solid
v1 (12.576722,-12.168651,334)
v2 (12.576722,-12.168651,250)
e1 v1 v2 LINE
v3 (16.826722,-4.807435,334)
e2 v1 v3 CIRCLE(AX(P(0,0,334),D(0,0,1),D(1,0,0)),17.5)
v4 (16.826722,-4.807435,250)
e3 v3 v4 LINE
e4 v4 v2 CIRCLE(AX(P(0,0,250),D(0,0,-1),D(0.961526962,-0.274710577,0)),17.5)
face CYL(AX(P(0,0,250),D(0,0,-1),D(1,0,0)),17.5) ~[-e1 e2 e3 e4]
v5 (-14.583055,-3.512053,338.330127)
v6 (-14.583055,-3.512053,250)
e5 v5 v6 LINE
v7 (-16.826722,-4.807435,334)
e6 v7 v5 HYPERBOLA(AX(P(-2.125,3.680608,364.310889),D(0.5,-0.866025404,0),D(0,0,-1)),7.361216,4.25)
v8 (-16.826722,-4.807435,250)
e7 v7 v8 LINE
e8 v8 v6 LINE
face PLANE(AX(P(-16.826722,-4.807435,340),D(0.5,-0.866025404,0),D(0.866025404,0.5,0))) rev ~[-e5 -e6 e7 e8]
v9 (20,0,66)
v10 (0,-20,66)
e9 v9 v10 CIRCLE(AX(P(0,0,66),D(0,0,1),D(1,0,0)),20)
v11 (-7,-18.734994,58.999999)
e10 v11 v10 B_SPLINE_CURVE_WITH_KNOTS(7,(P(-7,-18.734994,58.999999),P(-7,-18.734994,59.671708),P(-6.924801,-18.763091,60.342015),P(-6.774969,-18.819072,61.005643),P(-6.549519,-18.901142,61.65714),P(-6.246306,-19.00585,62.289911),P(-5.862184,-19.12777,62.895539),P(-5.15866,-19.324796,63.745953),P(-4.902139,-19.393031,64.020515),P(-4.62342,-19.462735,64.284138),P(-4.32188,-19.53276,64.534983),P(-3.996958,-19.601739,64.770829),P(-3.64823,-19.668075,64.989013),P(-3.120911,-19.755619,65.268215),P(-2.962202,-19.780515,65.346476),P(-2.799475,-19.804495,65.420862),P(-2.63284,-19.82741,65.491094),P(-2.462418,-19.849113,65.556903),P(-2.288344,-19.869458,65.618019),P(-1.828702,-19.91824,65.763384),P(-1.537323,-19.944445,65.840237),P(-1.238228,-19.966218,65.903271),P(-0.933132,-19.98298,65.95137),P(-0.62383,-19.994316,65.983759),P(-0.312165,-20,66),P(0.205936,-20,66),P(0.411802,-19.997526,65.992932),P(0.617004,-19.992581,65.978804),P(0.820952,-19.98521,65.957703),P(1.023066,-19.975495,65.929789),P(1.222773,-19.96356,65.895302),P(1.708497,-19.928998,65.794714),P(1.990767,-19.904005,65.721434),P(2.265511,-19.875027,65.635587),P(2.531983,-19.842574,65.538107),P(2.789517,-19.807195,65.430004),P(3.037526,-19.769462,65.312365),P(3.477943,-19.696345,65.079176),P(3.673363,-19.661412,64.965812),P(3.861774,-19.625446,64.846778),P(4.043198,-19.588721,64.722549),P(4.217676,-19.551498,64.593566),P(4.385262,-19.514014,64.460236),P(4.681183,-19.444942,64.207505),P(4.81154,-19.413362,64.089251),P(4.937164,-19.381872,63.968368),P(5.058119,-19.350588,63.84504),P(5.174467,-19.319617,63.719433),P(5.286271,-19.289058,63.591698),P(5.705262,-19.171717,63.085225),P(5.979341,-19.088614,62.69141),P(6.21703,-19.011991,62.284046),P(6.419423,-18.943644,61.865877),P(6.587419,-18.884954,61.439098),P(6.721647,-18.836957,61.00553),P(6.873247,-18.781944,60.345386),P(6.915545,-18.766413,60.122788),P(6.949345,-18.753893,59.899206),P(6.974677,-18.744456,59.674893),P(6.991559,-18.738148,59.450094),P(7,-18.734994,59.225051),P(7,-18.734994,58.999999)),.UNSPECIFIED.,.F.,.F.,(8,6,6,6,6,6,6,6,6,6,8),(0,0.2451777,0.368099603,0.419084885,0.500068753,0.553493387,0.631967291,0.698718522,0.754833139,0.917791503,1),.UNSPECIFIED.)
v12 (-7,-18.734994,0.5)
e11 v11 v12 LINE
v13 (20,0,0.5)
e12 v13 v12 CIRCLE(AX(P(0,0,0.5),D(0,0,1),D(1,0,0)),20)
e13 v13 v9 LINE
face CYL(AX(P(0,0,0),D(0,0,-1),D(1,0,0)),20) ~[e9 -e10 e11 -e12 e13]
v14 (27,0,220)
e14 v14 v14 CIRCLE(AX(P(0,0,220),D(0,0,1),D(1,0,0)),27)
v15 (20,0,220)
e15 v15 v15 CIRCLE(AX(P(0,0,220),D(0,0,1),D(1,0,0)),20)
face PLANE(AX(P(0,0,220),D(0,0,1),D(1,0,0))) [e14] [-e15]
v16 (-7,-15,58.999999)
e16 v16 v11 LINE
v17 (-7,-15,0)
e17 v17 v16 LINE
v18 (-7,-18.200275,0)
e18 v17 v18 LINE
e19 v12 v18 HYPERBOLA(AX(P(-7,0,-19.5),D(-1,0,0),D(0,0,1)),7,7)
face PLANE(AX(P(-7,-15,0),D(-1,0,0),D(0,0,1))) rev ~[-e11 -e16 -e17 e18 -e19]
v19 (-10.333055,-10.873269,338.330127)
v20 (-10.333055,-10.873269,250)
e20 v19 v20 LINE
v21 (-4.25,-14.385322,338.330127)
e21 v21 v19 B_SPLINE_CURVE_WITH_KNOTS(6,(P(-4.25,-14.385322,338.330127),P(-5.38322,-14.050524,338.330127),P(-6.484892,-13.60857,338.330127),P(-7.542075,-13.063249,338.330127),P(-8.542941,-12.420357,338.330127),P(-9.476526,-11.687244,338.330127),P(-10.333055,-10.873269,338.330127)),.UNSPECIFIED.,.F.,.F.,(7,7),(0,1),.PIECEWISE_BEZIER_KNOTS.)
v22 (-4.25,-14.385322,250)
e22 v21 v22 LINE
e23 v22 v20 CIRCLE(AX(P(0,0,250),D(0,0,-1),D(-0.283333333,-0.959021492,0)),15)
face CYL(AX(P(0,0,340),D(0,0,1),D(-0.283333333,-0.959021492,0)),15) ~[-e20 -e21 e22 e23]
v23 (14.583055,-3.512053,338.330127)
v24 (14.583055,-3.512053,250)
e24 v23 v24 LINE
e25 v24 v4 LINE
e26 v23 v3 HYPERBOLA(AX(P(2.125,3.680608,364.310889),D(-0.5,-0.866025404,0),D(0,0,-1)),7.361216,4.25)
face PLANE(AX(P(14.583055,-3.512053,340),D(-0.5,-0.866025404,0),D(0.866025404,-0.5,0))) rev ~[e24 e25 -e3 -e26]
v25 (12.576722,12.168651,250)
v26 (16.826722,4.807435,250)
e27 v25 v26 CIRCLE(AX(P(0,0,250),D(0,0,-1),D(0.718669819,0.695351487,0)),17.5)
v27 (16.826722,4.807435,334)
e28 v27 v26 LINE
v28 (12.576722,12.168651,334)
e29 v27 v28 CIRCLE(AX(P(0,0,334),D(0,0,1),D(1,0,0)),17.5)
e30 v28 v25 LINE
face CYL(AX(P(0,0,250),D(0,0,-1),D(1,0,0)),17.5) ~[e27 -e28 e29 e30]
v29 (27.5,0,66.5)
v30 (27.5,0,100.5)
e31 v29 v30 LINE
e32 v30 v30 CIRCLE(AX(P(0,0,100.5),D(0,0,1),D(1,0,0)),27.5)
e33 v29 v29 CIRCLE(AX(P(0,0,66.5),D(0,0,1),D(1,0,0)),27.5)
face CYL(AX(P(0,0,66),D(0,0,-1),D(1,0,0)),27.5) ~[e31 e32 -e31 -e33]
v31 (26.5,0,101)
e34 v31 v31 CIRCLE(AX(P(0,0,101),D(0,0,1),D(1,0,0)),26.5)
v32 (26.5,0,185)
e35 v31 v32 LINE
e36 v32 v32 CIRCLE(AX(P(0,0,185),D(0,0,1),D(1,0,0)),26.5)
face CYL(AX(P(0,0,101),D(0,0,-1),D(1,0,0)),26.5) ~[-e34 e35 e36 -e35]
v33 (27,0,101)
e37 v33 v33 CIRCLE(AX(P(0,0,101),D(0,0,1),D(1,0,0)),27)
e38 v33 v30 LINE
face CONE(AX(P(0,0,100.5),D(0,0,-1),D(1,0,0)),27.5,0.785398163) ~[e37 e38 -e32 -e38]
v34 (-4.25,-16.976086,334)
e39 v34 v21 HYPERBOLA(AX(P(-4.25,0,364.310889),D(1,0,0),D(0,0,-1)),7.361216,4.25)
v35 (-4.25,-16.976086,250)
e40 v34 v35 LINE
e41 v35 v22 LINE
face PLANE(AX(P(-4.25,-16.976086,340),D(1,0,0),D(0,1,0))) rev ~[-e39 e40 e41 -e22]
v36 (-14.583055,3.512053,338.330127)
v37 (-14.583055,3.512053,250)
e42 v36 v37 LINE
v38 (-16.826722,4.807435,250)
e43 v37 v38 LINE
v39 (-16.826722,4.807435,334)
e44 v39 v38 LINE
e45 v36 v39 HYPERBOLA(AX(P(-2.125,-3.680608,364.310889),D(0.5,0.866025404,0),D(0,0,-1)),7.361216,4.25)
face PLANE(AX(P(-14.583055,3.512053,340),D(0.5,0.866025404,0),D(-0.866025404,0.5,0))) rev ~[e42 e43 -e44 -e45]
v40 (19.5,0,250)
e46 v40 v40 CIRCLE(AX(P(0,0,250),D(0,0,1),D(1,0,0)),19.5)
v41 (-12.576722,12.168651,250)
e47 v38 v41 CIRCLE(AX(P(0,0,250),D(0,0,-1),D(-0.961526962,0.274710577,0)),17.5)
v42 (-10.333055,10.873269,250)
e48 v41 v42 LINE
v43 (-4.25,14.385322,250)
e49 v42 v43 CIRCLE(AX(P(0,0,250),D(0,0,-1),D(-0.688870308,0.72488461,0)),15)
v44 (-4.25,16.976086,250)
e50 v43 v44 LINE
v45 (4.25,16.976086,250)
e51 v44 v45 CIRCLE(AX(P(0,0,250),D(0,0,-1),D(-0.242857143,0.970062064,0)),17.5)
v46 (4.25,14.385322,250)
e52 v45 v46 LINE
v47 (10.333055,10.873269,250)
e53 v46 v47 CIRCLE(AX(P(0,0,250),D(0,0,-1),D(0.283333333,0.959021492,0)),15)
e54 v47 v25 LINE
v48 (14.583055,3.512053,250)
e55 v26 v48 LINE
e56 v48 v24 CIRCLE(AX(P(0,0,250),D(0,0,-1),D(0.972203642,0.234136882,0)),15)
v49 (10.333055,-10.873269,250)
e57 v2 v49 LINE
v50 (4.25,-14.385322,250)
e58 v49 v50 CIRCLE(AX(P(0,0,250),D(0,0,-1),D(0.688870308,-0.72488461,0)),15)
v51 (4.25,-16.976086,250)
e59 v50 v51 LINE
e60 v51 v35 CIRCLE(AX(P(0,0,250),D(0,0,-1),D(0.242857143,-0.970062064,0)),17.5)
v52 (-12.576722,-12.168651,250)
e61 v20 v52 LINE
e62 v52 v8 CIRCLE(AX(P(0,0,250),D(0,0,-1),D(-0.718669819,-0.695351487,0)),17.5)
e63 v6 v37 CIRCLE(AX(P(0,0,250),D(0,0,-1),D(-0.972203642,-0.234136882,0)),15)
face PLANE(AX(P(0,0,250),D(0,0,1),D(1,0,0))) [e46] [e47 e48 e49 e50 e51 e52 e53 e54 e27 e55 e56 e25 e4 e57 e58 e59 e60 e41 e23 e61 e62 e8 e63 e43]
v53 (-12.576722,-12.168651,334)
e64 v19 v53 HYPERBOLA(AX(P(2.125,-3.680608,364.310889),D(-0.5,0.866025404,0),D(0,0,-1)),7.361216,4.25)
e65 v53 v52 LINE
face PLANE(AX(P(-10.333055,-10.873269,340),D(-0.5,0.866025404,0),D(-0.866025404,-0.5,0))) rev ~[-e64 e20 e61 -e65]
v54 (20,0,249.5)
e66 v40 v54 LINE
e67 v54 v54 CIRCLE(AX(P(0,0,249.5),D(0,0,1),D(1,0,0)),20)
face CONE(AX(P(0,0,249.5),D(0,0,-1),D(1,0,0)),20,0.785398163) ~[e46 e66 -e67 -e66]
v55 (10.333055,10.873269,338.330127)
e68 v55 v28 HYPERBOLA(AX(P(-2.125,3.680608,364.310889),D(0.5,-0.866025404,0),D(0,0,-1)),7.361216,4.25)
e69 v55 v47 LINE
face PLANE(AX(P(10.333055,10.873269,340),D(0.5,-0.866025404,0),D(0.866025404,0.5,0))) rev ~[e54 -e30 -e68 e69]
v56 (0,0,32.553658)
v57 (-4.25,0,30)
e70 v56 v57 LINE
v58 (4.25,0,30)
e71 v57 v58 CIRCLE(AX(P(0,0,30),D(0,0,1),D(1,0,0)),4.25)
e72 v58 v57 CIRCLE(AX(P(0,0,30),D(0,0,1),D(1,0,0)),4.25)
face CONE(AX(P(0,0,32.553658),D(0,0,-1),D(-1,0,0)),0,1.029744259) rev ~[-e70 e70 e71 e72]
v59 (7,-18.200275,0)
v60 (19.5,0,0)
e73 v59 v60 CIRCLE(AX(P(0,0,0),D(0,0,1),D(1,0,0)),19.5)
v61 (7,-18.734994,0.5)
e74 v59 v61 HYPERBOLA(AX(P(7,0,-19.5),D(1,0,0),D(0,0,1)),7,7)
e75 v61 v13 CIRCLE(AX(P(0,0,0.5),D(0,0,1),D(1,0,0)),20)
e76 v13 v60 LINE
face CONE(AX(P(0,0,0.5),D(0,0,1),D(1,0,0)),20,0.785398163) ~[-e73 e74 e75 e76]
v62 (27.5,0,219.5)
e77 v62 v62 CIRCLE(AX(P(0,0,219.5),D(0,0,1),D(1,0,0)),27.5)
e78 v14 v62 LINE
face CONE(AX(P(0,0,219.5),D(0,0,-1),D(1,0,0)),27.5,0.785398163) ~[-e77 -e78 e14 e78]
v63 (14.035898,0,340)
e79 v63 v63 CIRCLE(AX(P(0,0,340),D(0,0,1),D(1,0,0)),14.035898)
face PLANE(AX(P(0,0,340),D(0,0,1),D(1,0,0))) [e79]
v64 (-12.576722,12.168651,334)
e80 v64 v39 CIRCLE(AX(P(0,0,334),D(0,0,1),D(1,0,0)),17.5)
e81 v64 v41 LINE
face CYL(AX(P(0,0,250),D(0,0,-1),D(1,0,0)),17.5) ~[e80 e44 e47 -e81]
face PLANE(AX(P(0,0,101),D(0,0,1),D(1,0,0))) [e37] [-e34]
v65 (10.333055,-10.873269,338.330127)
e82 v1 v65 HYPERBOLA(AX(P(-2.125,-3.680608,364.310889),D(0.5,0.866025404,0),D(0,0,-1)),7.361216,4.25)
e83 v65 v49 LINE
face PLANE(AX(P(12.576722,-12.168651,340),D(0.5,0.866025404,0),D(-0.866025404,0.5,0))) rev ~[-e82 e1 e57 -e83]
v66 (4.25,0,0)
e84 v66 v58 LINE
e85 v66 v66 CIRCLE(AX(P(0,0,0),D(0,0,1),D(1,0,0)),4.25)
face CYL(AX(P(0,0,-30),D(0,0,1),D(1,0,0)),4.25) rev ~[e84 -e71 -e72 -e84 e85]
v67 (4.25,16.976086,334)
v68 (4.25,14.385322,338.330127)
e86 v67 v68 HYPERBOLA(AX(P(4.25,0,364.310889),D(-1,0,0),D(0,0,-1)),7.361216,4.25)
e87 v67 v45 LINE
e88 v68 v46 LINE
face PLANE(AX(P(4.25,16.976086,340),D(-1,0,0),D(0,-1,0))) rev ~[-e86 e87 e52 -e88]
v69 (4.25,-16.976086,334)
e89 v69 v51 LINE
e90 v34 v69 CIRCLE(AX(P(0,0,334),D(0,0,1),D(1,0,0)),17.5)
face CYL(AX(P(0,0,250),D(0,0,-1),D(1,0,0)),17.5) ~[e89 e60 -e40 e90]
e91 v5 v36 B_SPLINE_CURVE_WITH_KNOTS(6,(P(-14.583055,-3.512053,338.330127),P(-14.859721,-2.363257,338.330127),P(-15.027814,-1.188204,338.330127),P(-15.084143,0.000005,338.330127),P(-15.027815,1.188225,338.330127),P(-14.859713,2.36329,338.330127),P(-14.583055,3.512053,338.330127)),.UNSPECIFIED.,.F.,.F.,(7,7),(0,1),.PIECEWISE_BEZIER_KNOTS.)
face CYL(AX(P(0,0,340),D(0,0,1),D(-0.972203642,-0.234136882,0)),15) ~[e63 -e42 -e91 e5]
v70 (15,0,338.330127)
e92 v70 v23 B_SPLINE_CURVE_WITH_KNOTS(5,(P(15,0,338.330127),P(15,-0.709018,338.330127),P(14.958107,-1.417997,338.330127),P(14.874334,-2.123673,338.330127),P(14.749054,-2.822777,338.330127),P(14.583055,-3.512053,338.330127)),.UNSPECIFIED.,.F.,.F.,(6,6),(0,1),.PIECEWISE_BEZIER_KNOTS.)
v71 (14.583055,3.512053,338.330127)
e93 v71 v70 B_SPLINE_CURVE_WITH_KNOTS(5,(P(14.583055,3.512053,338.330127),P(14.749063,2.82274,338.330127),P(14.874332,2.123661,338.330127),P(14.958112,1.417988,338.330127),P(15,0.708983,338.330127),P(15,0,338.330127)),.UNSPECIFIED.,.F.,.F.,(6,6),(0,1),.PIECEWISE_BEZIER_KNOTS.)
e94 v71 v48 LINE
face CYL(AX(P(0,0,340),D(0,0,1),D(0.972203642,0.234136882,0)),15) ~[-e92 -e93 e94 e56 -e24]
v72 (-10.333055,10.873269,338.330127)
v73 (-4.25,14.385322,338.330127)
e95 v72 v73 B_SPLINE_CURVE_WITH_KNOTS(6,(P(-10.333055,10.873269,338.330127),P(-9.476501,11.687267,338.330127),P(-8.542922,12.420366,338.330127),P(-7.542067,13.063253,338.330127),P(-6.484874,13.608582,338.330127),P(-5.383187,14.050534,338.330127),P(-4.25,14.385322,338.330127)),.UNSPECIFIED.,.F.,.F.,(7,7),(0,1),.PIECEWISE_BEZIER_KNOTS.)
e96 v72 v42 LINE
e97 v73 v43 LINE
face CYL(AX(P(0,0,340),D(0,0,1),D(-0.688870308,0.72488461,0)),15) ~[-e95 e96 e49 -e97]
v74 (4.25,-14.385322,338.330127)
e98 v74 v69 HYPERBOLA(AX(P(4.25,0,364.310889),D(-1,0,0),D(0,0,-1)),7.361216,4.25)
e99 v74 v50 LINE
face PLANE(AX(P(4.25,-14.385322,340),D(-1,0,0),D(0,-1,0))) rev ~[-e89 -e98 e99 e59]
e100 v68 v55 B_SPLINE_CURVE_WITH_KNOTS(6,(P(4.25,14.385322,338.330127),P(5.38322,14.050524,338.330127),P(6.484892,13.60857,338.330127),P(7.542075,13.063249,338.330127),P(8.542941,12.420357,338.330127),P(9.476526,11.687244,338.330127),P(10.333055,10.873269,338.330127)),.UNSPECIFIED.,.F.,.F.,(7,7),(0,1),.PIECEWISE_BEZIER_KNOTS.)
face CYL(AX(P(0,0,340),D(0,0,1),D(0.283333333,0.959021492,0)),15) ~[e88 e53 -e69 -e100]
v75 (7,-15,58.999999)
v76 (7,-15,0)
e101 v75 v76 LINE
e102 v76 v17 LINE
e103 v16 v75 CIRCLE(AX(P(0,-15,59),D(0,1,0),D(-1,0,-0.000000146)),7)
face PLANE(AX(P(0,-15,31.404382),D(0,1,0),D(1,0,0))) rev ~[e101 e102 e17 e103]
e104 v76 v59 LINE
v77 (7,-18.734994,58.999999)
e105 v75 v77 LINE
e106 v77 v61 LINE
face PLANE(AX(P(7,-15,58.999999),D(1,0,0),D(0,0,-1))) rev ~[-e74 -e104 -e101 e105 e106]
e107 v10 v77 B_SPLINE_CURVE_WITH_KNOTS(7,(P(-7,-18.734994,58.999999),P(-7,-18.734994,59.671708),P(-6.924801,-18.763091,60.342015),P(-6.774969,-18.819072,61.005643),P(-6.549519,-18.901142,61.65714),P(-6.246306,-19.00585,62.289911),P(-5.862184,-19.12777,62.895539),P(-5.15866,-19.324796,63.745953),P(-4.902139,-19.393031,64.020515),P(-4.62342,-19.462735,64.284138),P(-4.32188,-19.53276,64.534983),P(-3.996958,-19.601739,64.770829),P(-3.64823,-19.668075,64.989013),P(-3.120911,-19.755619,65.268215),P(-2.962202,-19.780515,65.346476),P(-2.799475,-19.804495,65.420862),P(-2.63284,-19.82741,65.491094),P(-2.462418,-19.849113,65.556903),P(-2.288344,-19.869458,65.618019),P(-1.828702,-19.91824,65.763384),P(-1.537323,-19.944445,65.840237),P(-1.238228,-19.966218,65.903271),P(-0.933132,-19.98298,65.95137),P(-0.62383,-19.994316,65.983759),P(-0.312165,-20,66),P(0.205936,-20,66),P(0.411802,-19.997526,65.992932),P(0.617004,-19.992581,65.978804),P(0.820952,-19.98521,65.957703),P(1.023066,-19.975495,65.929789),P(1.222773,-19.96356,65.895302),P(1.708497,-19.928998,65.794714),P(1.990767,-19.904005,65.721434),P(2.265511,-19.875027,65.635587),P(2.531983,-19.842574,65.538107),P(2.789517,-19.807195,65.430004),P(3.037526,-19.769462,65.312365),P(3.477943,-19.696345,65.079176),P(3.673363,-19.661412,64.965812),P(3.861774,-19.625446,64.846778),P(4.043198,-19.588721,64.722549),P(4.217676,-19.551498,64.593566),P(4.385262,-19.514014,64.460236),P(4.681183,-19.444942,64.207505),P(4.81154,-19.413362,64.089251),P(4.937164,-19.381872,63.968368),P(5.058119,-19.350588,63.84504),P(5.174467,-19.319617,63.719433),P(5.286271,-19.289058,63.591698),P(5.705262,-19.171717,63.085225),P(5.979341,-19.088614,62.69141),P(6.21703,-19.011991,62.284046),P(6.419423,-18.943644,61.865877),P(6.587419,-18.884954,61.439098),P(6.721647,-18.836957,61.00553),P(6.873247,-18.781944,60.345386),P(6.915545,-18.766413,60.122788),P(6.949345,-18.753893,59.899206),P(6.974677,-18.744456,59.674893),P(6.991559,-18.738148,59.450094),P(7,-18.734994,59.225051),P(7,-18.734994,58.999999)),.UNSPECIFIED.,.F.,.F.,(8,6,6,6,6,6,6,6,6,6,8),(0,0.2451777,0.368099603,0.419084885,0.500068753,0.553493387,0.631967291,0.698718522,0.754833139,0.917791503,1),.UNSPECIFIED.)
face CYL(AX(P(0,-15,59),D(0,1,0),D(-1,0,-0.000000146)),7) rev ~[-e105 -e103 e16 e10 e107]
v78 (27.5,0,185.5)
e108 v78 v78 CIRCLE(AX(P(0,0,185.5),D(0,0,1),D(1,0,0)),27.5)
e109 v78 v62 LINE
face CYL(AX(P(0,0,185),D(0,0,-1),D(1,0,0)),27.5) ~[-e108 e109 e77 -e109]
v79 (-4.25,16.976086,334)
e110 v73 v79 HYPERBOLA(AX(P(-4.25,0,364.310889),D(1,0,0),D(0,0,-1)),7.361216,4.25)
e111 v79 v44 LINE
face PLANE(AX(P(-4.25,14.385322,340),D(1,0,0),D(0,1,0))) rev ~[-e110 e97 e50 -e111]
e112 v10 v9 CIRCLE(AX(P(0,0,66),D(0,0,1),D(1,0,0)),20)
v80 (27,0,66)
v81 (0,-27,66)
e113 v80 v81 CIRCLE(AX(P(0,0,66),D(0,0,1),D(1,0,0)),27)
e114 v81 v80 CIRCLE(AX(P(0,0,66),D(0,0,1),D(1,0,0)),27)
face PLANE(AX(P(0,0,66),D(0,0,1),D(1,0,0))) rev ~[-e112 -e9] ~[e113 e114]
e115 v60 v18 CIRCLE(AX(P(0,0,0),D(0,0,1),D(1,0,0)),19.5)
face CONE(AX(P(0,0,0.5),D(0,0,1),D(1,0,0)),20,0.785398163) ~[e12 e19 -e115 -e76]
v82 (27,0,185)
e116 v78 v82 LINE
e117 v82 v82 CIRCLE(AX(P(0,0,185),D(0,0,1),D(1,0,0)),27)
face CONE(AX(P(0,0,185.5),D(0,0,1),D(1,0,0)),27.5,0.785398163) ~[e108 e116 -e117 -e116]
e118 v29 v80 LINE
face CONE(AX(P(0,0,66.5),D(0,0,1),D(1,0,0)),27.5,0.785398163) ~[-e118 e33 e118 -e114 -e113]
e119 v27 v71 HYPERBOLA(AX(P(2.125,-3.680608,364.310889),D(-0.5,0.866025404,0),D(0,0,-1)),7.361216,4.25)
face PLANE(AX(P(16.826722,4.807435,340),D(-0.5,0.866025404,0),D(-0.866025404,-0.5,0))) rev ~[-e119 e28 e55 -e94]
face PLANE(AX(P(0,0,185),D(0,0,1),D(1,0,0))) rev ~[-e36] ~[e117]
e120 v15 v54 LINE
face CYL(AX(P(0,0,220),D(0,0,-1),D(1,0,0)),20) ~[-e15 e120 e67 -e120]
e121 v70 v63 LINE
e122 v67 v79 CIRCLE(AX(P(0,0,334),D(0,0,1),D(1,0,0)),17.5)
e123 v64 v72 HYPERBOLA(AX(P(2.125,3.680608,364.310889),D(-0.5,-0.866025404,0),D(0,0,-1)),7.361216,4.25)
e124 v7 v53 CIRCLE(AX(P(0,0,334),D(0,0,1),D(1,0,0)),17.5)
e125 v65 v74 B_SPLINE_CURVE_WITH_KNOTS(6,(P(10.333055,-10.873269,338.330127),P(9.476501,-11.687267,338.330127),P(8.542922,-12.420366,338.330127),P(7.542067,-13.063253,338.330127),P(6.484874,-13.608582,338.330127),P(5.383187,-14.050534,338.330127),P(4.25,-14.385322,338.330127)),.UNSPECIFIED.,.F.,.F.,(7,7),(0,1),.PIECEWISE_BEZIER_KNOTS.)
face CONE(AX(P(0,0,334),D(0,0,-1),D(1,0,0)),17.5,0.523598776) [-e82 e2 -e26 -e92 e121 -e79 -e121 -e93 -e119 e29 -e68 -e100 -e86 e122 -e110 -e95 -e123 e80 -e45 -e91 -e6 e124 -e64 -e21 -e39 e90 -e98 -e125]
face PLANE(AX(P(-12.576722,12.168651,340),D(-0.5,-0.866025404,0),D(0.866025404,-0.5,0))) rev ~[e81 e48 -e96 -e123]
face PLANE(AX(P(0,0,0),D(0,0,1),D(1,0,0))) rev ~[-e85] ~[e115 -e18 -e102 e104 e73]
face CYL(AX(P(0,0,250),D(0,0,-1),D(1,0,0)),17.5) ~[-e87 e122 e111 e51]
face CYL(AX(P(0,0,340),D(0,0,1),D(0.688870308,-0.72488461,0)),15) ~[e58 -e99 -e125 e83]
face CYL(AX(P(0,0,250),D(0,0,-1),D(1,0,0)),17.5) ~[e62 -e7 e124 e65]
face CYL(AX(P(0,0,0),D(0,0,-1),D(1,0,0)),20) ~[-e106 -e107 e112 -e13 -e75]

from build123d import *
from build123d.topology import SkipClean

# Parameters (mm, degrees)
SKICA1_R                  = 20
P_IDAT_VYSUNUT_M1_DEPTH   = 66
SKICA2_R                  = 27.5
P_IDAT_VYSUNUT_M2_DEPTH   = 35
SKICA3_R                  = 26.5
P_IDAT_VYSUNUT_M3_DEPTH   = 84
SKICA4_R                  = 27.5
P_IDAT_VYSUNUT_M4_DEPTH   = 35
SKICA5_R                  = 20
P_IDAT_VYSUNUT_M5_DEPTH   = 30
SKICA6_R                  = 17.5
P_IDAT_VYSUNUT_M6_DEPTH   = 90
ZKOSEN_3_SIZE             = 6
ZKOSEN_3_SIZE2            = 3.464101615
SKICA9_OUTSIDE_W          = 126.756
SKICA9_OUTSIDE_H          = 126.756
ODEBRAT_VYSUNUT_M16_DEPTH = 90
ZKOSEN_4_SIZE             = 0.5
M10_Z_VIT1_D              = 8.5
M10_Z_VIT1_DEPTH          = 30
M10_Z_VIT1_TIP            = 2.553657631
ODEBRAT_START             = -15
ODEBRAT_VYSUNUT_M17_DEPTH = 13.5


with BuildPart() as part:
    # Skica1 → P_idat vysunut_m1 (new body)
    with BuildSketch(Plane.XY):
        Circle(SKICA1_R)
    extrude(amount=P_IDAT_VYSUNUT_M1_DEPTH)

    # Skica2 → P_idat vysunut_m2 (add)
    with BuildSketch(Plane.XY.offset(66)):
        Circle(SKICA2_R)
    extrude(amount=P_IDAT_VYSUNUT_M2_DEPTH)

    # Skica3 → P_idat vysunut_m3 (add)
    with BuildSketch(Plane.XY.offset(101)):
        Circle(SKICA3_R)
    extrude(amount=P_IDAT_VYSUNUT_M3_DEPTH)

    # Skica4 → P_idat vysunut_m4 (add)
    with BuildSketch(Plane.XY.offset(185)):
        Circle(SKICA4_R)
    extrude(amount=P_IDAT_VYSUNUT_M4_DEPTH)

    # Skica5 → P_idat vysunut_m5 (add)
    with BuildSketch(Plane.XY.offset(220)):
        Circle(SKICA5_R)
    extrude(amount=P_IDAT_VYSUNUT_M5_DEPTH)

    # Skica6 → P_idat vysunut_m6 (add)
    with BuildSketch(Plane.XY.offset(250)):
        Circle(SKICA6_R)
    extrude(amount=P_IDAT_VYSUNUT_M6_DEPTH)

    # Zkosen_3
    zkosen_3_edges = [part.edges().sort_by_distance(p)[0] for p in [
        (-17.5, 0, 340),
    ]]
    zkosen_3_side = [part.faces().sort_by_distance(p)[0] for p in [
        (-17.5, 0, 295),
    ]]
    chamfer(zkosen_3_edges, length=ZKOSEN_3_SIZE, length2=ZKOSEN_3_SIZE2, reference=zkosen_3_side[0])

    # Skica9 outside → Odebrat vysunut_m16 (cut)
    with BuildSketch(Plane.XY.offset(340)):
        Rectangle(SKICA9_OUTSIDE_W, SKICA9_OUTSIDE_H)
        with BuildLine():
            Line((-4.25, 14.385322381), (-4.25, 16.976086121))
            ThreePointArc((-4.25, 16.976086121), (0, 17.5), (4.25, 16.976086121))
            Line((4.25, 16.976086121), (4.25, 14.385322381))
            ThreePointArc((4.25, 14.385322381), (7.5, 12.990381057), (10.333054623, 10.873269156))
            Line((10.333054623, 10.873269156), (12.576721838, 12.168651027))
            ThreePointArc((12.576721838, 12.168651027), (15.155444566, 8.75), (16.826721838, 4.807435095))
            Line((16.826721838, 4.807435095), (14.583054623, 3.512053224))
            ThreePointArc((14.583054623, 3.512053224), (15, 0), (14.583054623, -3.512053224))
            Line((14.583054623, -3.512053224), (16.826721838, -4.807435095))
            ThreePointArc((16.826721838, -4.807435095), (15.155444566, -8.75), (12.576721838, -12.168651027))
            Line((12.576721838, -12.168651027), (10.333054623, -10.873269156))
            ThreePointArc((10.333054623, -10.873269156), (7.5, -12.990381057), (4.25, -14.385322381))
            Line((4.25, -14.385322381), (4.25, -16.976086121))
            ThreePointArc((4.25, -16.976086121), (0, -17.5), (-4.25, -16.976086121))
            Line((-4.25, -16.976086121), (-4.25, -14.385322381))
            ThreePointArc((-4.25, -14.385322381), (-7.5, -12.990381057), (-10.333054623, -10.873269156))
            Line((-10.333054623, -10.873269156), (-12.576721838, -12.168651027))
            ThreePointArc((-12.576721838, -12.168651027), (-15.155444566, -8.75), (-16.826721838, -4.807435095))
            Line((-16.826721838, -4.807435095), (-14.583054623, -3.512053224))
            ThreePointArc((-14.583054623, -3.512053224), (-15, 0), (-14.583054623, 3.512053224))
            Line((-14.583054623, 3.512053224), (-16.826721838, 4.807435095))
            ThreePointArc((-16.826721838, 4.807435095), (-15.155444566, 8.75), (-12.576721838, 12.168651027))
            Line((-12.576721838, 12.168651027), (-10.333054623, 10.873269156))
            ThreePointArc((-10.333054623, 10.873269156), (-7.5, 12.990381057), (-4.25, 14.385322381))
        make_face(mode=Mode.SUBTRACT)
    extrude(amount=-ODEBRAT_VYSUNUT_M16_DEPTH, mode=Mode.SUBTRACT)

    # Zkosen_4
    zkosen_4_edges = [part.edges().sort_by_distance(p)[0] for p in [
        (-27.5, 0, 185),
        (-27.5, 0, 220),
        (-20, 0, 0),
        (-20, 0, 250),
        (-27.5, 0, 66),
        (-27.5, 0, 101),
    ]]
    chamfer(zkosen_4_edges, length=ZKOSEN_4_SIZE)

    # M10 z_vit1
    with Locations(Plane(origin=(0, 0, 0), x_dir=(-1, 0, 0), z_dir=(0, 0, -1))):
        with Locations((0, 0)):
            Hole(M10_Z_VIT1_D / 2, depth=M10_Z_VIT1_DEPTH)
            with Locations((0, 0, -(M10_Z_VIT1_DEPTH + M10_Z_VIT1_TIP / 2))):  # 118° drill point
                Cone(0, M10_Z_VIT1_D / 2, M10_Z_VIT1_TIP, mode=Mode.SUBTRACT)

    # Skica12 → Odebrat vysunut_m17 (cut, through all)
    with SkipClean():  # keep this step's faces unmerged: merging them makes the solid invalid here
        with BuildSketch(Plane(origin=(0, 0, 0), x_dir=(1, 0, 0), z_dir=(0, 1, 0)).offset(ODEBRAT_START)):
            with BuildLine():
                Line((-7, 0), (-7, -58.99999898))
                ThreePointArc((-7, -58.99999898), (0, -66), (7, -58.99999898))
                Line((7, -58.99999898), (7, 0))
                Line((7, 0), (-7, 0))
            make_face()
        extrude(amount=-ODEBRAT_VYSUNUT_M17_DEPTH, mode=Mode.SUBTRACT)


solid = part.part
